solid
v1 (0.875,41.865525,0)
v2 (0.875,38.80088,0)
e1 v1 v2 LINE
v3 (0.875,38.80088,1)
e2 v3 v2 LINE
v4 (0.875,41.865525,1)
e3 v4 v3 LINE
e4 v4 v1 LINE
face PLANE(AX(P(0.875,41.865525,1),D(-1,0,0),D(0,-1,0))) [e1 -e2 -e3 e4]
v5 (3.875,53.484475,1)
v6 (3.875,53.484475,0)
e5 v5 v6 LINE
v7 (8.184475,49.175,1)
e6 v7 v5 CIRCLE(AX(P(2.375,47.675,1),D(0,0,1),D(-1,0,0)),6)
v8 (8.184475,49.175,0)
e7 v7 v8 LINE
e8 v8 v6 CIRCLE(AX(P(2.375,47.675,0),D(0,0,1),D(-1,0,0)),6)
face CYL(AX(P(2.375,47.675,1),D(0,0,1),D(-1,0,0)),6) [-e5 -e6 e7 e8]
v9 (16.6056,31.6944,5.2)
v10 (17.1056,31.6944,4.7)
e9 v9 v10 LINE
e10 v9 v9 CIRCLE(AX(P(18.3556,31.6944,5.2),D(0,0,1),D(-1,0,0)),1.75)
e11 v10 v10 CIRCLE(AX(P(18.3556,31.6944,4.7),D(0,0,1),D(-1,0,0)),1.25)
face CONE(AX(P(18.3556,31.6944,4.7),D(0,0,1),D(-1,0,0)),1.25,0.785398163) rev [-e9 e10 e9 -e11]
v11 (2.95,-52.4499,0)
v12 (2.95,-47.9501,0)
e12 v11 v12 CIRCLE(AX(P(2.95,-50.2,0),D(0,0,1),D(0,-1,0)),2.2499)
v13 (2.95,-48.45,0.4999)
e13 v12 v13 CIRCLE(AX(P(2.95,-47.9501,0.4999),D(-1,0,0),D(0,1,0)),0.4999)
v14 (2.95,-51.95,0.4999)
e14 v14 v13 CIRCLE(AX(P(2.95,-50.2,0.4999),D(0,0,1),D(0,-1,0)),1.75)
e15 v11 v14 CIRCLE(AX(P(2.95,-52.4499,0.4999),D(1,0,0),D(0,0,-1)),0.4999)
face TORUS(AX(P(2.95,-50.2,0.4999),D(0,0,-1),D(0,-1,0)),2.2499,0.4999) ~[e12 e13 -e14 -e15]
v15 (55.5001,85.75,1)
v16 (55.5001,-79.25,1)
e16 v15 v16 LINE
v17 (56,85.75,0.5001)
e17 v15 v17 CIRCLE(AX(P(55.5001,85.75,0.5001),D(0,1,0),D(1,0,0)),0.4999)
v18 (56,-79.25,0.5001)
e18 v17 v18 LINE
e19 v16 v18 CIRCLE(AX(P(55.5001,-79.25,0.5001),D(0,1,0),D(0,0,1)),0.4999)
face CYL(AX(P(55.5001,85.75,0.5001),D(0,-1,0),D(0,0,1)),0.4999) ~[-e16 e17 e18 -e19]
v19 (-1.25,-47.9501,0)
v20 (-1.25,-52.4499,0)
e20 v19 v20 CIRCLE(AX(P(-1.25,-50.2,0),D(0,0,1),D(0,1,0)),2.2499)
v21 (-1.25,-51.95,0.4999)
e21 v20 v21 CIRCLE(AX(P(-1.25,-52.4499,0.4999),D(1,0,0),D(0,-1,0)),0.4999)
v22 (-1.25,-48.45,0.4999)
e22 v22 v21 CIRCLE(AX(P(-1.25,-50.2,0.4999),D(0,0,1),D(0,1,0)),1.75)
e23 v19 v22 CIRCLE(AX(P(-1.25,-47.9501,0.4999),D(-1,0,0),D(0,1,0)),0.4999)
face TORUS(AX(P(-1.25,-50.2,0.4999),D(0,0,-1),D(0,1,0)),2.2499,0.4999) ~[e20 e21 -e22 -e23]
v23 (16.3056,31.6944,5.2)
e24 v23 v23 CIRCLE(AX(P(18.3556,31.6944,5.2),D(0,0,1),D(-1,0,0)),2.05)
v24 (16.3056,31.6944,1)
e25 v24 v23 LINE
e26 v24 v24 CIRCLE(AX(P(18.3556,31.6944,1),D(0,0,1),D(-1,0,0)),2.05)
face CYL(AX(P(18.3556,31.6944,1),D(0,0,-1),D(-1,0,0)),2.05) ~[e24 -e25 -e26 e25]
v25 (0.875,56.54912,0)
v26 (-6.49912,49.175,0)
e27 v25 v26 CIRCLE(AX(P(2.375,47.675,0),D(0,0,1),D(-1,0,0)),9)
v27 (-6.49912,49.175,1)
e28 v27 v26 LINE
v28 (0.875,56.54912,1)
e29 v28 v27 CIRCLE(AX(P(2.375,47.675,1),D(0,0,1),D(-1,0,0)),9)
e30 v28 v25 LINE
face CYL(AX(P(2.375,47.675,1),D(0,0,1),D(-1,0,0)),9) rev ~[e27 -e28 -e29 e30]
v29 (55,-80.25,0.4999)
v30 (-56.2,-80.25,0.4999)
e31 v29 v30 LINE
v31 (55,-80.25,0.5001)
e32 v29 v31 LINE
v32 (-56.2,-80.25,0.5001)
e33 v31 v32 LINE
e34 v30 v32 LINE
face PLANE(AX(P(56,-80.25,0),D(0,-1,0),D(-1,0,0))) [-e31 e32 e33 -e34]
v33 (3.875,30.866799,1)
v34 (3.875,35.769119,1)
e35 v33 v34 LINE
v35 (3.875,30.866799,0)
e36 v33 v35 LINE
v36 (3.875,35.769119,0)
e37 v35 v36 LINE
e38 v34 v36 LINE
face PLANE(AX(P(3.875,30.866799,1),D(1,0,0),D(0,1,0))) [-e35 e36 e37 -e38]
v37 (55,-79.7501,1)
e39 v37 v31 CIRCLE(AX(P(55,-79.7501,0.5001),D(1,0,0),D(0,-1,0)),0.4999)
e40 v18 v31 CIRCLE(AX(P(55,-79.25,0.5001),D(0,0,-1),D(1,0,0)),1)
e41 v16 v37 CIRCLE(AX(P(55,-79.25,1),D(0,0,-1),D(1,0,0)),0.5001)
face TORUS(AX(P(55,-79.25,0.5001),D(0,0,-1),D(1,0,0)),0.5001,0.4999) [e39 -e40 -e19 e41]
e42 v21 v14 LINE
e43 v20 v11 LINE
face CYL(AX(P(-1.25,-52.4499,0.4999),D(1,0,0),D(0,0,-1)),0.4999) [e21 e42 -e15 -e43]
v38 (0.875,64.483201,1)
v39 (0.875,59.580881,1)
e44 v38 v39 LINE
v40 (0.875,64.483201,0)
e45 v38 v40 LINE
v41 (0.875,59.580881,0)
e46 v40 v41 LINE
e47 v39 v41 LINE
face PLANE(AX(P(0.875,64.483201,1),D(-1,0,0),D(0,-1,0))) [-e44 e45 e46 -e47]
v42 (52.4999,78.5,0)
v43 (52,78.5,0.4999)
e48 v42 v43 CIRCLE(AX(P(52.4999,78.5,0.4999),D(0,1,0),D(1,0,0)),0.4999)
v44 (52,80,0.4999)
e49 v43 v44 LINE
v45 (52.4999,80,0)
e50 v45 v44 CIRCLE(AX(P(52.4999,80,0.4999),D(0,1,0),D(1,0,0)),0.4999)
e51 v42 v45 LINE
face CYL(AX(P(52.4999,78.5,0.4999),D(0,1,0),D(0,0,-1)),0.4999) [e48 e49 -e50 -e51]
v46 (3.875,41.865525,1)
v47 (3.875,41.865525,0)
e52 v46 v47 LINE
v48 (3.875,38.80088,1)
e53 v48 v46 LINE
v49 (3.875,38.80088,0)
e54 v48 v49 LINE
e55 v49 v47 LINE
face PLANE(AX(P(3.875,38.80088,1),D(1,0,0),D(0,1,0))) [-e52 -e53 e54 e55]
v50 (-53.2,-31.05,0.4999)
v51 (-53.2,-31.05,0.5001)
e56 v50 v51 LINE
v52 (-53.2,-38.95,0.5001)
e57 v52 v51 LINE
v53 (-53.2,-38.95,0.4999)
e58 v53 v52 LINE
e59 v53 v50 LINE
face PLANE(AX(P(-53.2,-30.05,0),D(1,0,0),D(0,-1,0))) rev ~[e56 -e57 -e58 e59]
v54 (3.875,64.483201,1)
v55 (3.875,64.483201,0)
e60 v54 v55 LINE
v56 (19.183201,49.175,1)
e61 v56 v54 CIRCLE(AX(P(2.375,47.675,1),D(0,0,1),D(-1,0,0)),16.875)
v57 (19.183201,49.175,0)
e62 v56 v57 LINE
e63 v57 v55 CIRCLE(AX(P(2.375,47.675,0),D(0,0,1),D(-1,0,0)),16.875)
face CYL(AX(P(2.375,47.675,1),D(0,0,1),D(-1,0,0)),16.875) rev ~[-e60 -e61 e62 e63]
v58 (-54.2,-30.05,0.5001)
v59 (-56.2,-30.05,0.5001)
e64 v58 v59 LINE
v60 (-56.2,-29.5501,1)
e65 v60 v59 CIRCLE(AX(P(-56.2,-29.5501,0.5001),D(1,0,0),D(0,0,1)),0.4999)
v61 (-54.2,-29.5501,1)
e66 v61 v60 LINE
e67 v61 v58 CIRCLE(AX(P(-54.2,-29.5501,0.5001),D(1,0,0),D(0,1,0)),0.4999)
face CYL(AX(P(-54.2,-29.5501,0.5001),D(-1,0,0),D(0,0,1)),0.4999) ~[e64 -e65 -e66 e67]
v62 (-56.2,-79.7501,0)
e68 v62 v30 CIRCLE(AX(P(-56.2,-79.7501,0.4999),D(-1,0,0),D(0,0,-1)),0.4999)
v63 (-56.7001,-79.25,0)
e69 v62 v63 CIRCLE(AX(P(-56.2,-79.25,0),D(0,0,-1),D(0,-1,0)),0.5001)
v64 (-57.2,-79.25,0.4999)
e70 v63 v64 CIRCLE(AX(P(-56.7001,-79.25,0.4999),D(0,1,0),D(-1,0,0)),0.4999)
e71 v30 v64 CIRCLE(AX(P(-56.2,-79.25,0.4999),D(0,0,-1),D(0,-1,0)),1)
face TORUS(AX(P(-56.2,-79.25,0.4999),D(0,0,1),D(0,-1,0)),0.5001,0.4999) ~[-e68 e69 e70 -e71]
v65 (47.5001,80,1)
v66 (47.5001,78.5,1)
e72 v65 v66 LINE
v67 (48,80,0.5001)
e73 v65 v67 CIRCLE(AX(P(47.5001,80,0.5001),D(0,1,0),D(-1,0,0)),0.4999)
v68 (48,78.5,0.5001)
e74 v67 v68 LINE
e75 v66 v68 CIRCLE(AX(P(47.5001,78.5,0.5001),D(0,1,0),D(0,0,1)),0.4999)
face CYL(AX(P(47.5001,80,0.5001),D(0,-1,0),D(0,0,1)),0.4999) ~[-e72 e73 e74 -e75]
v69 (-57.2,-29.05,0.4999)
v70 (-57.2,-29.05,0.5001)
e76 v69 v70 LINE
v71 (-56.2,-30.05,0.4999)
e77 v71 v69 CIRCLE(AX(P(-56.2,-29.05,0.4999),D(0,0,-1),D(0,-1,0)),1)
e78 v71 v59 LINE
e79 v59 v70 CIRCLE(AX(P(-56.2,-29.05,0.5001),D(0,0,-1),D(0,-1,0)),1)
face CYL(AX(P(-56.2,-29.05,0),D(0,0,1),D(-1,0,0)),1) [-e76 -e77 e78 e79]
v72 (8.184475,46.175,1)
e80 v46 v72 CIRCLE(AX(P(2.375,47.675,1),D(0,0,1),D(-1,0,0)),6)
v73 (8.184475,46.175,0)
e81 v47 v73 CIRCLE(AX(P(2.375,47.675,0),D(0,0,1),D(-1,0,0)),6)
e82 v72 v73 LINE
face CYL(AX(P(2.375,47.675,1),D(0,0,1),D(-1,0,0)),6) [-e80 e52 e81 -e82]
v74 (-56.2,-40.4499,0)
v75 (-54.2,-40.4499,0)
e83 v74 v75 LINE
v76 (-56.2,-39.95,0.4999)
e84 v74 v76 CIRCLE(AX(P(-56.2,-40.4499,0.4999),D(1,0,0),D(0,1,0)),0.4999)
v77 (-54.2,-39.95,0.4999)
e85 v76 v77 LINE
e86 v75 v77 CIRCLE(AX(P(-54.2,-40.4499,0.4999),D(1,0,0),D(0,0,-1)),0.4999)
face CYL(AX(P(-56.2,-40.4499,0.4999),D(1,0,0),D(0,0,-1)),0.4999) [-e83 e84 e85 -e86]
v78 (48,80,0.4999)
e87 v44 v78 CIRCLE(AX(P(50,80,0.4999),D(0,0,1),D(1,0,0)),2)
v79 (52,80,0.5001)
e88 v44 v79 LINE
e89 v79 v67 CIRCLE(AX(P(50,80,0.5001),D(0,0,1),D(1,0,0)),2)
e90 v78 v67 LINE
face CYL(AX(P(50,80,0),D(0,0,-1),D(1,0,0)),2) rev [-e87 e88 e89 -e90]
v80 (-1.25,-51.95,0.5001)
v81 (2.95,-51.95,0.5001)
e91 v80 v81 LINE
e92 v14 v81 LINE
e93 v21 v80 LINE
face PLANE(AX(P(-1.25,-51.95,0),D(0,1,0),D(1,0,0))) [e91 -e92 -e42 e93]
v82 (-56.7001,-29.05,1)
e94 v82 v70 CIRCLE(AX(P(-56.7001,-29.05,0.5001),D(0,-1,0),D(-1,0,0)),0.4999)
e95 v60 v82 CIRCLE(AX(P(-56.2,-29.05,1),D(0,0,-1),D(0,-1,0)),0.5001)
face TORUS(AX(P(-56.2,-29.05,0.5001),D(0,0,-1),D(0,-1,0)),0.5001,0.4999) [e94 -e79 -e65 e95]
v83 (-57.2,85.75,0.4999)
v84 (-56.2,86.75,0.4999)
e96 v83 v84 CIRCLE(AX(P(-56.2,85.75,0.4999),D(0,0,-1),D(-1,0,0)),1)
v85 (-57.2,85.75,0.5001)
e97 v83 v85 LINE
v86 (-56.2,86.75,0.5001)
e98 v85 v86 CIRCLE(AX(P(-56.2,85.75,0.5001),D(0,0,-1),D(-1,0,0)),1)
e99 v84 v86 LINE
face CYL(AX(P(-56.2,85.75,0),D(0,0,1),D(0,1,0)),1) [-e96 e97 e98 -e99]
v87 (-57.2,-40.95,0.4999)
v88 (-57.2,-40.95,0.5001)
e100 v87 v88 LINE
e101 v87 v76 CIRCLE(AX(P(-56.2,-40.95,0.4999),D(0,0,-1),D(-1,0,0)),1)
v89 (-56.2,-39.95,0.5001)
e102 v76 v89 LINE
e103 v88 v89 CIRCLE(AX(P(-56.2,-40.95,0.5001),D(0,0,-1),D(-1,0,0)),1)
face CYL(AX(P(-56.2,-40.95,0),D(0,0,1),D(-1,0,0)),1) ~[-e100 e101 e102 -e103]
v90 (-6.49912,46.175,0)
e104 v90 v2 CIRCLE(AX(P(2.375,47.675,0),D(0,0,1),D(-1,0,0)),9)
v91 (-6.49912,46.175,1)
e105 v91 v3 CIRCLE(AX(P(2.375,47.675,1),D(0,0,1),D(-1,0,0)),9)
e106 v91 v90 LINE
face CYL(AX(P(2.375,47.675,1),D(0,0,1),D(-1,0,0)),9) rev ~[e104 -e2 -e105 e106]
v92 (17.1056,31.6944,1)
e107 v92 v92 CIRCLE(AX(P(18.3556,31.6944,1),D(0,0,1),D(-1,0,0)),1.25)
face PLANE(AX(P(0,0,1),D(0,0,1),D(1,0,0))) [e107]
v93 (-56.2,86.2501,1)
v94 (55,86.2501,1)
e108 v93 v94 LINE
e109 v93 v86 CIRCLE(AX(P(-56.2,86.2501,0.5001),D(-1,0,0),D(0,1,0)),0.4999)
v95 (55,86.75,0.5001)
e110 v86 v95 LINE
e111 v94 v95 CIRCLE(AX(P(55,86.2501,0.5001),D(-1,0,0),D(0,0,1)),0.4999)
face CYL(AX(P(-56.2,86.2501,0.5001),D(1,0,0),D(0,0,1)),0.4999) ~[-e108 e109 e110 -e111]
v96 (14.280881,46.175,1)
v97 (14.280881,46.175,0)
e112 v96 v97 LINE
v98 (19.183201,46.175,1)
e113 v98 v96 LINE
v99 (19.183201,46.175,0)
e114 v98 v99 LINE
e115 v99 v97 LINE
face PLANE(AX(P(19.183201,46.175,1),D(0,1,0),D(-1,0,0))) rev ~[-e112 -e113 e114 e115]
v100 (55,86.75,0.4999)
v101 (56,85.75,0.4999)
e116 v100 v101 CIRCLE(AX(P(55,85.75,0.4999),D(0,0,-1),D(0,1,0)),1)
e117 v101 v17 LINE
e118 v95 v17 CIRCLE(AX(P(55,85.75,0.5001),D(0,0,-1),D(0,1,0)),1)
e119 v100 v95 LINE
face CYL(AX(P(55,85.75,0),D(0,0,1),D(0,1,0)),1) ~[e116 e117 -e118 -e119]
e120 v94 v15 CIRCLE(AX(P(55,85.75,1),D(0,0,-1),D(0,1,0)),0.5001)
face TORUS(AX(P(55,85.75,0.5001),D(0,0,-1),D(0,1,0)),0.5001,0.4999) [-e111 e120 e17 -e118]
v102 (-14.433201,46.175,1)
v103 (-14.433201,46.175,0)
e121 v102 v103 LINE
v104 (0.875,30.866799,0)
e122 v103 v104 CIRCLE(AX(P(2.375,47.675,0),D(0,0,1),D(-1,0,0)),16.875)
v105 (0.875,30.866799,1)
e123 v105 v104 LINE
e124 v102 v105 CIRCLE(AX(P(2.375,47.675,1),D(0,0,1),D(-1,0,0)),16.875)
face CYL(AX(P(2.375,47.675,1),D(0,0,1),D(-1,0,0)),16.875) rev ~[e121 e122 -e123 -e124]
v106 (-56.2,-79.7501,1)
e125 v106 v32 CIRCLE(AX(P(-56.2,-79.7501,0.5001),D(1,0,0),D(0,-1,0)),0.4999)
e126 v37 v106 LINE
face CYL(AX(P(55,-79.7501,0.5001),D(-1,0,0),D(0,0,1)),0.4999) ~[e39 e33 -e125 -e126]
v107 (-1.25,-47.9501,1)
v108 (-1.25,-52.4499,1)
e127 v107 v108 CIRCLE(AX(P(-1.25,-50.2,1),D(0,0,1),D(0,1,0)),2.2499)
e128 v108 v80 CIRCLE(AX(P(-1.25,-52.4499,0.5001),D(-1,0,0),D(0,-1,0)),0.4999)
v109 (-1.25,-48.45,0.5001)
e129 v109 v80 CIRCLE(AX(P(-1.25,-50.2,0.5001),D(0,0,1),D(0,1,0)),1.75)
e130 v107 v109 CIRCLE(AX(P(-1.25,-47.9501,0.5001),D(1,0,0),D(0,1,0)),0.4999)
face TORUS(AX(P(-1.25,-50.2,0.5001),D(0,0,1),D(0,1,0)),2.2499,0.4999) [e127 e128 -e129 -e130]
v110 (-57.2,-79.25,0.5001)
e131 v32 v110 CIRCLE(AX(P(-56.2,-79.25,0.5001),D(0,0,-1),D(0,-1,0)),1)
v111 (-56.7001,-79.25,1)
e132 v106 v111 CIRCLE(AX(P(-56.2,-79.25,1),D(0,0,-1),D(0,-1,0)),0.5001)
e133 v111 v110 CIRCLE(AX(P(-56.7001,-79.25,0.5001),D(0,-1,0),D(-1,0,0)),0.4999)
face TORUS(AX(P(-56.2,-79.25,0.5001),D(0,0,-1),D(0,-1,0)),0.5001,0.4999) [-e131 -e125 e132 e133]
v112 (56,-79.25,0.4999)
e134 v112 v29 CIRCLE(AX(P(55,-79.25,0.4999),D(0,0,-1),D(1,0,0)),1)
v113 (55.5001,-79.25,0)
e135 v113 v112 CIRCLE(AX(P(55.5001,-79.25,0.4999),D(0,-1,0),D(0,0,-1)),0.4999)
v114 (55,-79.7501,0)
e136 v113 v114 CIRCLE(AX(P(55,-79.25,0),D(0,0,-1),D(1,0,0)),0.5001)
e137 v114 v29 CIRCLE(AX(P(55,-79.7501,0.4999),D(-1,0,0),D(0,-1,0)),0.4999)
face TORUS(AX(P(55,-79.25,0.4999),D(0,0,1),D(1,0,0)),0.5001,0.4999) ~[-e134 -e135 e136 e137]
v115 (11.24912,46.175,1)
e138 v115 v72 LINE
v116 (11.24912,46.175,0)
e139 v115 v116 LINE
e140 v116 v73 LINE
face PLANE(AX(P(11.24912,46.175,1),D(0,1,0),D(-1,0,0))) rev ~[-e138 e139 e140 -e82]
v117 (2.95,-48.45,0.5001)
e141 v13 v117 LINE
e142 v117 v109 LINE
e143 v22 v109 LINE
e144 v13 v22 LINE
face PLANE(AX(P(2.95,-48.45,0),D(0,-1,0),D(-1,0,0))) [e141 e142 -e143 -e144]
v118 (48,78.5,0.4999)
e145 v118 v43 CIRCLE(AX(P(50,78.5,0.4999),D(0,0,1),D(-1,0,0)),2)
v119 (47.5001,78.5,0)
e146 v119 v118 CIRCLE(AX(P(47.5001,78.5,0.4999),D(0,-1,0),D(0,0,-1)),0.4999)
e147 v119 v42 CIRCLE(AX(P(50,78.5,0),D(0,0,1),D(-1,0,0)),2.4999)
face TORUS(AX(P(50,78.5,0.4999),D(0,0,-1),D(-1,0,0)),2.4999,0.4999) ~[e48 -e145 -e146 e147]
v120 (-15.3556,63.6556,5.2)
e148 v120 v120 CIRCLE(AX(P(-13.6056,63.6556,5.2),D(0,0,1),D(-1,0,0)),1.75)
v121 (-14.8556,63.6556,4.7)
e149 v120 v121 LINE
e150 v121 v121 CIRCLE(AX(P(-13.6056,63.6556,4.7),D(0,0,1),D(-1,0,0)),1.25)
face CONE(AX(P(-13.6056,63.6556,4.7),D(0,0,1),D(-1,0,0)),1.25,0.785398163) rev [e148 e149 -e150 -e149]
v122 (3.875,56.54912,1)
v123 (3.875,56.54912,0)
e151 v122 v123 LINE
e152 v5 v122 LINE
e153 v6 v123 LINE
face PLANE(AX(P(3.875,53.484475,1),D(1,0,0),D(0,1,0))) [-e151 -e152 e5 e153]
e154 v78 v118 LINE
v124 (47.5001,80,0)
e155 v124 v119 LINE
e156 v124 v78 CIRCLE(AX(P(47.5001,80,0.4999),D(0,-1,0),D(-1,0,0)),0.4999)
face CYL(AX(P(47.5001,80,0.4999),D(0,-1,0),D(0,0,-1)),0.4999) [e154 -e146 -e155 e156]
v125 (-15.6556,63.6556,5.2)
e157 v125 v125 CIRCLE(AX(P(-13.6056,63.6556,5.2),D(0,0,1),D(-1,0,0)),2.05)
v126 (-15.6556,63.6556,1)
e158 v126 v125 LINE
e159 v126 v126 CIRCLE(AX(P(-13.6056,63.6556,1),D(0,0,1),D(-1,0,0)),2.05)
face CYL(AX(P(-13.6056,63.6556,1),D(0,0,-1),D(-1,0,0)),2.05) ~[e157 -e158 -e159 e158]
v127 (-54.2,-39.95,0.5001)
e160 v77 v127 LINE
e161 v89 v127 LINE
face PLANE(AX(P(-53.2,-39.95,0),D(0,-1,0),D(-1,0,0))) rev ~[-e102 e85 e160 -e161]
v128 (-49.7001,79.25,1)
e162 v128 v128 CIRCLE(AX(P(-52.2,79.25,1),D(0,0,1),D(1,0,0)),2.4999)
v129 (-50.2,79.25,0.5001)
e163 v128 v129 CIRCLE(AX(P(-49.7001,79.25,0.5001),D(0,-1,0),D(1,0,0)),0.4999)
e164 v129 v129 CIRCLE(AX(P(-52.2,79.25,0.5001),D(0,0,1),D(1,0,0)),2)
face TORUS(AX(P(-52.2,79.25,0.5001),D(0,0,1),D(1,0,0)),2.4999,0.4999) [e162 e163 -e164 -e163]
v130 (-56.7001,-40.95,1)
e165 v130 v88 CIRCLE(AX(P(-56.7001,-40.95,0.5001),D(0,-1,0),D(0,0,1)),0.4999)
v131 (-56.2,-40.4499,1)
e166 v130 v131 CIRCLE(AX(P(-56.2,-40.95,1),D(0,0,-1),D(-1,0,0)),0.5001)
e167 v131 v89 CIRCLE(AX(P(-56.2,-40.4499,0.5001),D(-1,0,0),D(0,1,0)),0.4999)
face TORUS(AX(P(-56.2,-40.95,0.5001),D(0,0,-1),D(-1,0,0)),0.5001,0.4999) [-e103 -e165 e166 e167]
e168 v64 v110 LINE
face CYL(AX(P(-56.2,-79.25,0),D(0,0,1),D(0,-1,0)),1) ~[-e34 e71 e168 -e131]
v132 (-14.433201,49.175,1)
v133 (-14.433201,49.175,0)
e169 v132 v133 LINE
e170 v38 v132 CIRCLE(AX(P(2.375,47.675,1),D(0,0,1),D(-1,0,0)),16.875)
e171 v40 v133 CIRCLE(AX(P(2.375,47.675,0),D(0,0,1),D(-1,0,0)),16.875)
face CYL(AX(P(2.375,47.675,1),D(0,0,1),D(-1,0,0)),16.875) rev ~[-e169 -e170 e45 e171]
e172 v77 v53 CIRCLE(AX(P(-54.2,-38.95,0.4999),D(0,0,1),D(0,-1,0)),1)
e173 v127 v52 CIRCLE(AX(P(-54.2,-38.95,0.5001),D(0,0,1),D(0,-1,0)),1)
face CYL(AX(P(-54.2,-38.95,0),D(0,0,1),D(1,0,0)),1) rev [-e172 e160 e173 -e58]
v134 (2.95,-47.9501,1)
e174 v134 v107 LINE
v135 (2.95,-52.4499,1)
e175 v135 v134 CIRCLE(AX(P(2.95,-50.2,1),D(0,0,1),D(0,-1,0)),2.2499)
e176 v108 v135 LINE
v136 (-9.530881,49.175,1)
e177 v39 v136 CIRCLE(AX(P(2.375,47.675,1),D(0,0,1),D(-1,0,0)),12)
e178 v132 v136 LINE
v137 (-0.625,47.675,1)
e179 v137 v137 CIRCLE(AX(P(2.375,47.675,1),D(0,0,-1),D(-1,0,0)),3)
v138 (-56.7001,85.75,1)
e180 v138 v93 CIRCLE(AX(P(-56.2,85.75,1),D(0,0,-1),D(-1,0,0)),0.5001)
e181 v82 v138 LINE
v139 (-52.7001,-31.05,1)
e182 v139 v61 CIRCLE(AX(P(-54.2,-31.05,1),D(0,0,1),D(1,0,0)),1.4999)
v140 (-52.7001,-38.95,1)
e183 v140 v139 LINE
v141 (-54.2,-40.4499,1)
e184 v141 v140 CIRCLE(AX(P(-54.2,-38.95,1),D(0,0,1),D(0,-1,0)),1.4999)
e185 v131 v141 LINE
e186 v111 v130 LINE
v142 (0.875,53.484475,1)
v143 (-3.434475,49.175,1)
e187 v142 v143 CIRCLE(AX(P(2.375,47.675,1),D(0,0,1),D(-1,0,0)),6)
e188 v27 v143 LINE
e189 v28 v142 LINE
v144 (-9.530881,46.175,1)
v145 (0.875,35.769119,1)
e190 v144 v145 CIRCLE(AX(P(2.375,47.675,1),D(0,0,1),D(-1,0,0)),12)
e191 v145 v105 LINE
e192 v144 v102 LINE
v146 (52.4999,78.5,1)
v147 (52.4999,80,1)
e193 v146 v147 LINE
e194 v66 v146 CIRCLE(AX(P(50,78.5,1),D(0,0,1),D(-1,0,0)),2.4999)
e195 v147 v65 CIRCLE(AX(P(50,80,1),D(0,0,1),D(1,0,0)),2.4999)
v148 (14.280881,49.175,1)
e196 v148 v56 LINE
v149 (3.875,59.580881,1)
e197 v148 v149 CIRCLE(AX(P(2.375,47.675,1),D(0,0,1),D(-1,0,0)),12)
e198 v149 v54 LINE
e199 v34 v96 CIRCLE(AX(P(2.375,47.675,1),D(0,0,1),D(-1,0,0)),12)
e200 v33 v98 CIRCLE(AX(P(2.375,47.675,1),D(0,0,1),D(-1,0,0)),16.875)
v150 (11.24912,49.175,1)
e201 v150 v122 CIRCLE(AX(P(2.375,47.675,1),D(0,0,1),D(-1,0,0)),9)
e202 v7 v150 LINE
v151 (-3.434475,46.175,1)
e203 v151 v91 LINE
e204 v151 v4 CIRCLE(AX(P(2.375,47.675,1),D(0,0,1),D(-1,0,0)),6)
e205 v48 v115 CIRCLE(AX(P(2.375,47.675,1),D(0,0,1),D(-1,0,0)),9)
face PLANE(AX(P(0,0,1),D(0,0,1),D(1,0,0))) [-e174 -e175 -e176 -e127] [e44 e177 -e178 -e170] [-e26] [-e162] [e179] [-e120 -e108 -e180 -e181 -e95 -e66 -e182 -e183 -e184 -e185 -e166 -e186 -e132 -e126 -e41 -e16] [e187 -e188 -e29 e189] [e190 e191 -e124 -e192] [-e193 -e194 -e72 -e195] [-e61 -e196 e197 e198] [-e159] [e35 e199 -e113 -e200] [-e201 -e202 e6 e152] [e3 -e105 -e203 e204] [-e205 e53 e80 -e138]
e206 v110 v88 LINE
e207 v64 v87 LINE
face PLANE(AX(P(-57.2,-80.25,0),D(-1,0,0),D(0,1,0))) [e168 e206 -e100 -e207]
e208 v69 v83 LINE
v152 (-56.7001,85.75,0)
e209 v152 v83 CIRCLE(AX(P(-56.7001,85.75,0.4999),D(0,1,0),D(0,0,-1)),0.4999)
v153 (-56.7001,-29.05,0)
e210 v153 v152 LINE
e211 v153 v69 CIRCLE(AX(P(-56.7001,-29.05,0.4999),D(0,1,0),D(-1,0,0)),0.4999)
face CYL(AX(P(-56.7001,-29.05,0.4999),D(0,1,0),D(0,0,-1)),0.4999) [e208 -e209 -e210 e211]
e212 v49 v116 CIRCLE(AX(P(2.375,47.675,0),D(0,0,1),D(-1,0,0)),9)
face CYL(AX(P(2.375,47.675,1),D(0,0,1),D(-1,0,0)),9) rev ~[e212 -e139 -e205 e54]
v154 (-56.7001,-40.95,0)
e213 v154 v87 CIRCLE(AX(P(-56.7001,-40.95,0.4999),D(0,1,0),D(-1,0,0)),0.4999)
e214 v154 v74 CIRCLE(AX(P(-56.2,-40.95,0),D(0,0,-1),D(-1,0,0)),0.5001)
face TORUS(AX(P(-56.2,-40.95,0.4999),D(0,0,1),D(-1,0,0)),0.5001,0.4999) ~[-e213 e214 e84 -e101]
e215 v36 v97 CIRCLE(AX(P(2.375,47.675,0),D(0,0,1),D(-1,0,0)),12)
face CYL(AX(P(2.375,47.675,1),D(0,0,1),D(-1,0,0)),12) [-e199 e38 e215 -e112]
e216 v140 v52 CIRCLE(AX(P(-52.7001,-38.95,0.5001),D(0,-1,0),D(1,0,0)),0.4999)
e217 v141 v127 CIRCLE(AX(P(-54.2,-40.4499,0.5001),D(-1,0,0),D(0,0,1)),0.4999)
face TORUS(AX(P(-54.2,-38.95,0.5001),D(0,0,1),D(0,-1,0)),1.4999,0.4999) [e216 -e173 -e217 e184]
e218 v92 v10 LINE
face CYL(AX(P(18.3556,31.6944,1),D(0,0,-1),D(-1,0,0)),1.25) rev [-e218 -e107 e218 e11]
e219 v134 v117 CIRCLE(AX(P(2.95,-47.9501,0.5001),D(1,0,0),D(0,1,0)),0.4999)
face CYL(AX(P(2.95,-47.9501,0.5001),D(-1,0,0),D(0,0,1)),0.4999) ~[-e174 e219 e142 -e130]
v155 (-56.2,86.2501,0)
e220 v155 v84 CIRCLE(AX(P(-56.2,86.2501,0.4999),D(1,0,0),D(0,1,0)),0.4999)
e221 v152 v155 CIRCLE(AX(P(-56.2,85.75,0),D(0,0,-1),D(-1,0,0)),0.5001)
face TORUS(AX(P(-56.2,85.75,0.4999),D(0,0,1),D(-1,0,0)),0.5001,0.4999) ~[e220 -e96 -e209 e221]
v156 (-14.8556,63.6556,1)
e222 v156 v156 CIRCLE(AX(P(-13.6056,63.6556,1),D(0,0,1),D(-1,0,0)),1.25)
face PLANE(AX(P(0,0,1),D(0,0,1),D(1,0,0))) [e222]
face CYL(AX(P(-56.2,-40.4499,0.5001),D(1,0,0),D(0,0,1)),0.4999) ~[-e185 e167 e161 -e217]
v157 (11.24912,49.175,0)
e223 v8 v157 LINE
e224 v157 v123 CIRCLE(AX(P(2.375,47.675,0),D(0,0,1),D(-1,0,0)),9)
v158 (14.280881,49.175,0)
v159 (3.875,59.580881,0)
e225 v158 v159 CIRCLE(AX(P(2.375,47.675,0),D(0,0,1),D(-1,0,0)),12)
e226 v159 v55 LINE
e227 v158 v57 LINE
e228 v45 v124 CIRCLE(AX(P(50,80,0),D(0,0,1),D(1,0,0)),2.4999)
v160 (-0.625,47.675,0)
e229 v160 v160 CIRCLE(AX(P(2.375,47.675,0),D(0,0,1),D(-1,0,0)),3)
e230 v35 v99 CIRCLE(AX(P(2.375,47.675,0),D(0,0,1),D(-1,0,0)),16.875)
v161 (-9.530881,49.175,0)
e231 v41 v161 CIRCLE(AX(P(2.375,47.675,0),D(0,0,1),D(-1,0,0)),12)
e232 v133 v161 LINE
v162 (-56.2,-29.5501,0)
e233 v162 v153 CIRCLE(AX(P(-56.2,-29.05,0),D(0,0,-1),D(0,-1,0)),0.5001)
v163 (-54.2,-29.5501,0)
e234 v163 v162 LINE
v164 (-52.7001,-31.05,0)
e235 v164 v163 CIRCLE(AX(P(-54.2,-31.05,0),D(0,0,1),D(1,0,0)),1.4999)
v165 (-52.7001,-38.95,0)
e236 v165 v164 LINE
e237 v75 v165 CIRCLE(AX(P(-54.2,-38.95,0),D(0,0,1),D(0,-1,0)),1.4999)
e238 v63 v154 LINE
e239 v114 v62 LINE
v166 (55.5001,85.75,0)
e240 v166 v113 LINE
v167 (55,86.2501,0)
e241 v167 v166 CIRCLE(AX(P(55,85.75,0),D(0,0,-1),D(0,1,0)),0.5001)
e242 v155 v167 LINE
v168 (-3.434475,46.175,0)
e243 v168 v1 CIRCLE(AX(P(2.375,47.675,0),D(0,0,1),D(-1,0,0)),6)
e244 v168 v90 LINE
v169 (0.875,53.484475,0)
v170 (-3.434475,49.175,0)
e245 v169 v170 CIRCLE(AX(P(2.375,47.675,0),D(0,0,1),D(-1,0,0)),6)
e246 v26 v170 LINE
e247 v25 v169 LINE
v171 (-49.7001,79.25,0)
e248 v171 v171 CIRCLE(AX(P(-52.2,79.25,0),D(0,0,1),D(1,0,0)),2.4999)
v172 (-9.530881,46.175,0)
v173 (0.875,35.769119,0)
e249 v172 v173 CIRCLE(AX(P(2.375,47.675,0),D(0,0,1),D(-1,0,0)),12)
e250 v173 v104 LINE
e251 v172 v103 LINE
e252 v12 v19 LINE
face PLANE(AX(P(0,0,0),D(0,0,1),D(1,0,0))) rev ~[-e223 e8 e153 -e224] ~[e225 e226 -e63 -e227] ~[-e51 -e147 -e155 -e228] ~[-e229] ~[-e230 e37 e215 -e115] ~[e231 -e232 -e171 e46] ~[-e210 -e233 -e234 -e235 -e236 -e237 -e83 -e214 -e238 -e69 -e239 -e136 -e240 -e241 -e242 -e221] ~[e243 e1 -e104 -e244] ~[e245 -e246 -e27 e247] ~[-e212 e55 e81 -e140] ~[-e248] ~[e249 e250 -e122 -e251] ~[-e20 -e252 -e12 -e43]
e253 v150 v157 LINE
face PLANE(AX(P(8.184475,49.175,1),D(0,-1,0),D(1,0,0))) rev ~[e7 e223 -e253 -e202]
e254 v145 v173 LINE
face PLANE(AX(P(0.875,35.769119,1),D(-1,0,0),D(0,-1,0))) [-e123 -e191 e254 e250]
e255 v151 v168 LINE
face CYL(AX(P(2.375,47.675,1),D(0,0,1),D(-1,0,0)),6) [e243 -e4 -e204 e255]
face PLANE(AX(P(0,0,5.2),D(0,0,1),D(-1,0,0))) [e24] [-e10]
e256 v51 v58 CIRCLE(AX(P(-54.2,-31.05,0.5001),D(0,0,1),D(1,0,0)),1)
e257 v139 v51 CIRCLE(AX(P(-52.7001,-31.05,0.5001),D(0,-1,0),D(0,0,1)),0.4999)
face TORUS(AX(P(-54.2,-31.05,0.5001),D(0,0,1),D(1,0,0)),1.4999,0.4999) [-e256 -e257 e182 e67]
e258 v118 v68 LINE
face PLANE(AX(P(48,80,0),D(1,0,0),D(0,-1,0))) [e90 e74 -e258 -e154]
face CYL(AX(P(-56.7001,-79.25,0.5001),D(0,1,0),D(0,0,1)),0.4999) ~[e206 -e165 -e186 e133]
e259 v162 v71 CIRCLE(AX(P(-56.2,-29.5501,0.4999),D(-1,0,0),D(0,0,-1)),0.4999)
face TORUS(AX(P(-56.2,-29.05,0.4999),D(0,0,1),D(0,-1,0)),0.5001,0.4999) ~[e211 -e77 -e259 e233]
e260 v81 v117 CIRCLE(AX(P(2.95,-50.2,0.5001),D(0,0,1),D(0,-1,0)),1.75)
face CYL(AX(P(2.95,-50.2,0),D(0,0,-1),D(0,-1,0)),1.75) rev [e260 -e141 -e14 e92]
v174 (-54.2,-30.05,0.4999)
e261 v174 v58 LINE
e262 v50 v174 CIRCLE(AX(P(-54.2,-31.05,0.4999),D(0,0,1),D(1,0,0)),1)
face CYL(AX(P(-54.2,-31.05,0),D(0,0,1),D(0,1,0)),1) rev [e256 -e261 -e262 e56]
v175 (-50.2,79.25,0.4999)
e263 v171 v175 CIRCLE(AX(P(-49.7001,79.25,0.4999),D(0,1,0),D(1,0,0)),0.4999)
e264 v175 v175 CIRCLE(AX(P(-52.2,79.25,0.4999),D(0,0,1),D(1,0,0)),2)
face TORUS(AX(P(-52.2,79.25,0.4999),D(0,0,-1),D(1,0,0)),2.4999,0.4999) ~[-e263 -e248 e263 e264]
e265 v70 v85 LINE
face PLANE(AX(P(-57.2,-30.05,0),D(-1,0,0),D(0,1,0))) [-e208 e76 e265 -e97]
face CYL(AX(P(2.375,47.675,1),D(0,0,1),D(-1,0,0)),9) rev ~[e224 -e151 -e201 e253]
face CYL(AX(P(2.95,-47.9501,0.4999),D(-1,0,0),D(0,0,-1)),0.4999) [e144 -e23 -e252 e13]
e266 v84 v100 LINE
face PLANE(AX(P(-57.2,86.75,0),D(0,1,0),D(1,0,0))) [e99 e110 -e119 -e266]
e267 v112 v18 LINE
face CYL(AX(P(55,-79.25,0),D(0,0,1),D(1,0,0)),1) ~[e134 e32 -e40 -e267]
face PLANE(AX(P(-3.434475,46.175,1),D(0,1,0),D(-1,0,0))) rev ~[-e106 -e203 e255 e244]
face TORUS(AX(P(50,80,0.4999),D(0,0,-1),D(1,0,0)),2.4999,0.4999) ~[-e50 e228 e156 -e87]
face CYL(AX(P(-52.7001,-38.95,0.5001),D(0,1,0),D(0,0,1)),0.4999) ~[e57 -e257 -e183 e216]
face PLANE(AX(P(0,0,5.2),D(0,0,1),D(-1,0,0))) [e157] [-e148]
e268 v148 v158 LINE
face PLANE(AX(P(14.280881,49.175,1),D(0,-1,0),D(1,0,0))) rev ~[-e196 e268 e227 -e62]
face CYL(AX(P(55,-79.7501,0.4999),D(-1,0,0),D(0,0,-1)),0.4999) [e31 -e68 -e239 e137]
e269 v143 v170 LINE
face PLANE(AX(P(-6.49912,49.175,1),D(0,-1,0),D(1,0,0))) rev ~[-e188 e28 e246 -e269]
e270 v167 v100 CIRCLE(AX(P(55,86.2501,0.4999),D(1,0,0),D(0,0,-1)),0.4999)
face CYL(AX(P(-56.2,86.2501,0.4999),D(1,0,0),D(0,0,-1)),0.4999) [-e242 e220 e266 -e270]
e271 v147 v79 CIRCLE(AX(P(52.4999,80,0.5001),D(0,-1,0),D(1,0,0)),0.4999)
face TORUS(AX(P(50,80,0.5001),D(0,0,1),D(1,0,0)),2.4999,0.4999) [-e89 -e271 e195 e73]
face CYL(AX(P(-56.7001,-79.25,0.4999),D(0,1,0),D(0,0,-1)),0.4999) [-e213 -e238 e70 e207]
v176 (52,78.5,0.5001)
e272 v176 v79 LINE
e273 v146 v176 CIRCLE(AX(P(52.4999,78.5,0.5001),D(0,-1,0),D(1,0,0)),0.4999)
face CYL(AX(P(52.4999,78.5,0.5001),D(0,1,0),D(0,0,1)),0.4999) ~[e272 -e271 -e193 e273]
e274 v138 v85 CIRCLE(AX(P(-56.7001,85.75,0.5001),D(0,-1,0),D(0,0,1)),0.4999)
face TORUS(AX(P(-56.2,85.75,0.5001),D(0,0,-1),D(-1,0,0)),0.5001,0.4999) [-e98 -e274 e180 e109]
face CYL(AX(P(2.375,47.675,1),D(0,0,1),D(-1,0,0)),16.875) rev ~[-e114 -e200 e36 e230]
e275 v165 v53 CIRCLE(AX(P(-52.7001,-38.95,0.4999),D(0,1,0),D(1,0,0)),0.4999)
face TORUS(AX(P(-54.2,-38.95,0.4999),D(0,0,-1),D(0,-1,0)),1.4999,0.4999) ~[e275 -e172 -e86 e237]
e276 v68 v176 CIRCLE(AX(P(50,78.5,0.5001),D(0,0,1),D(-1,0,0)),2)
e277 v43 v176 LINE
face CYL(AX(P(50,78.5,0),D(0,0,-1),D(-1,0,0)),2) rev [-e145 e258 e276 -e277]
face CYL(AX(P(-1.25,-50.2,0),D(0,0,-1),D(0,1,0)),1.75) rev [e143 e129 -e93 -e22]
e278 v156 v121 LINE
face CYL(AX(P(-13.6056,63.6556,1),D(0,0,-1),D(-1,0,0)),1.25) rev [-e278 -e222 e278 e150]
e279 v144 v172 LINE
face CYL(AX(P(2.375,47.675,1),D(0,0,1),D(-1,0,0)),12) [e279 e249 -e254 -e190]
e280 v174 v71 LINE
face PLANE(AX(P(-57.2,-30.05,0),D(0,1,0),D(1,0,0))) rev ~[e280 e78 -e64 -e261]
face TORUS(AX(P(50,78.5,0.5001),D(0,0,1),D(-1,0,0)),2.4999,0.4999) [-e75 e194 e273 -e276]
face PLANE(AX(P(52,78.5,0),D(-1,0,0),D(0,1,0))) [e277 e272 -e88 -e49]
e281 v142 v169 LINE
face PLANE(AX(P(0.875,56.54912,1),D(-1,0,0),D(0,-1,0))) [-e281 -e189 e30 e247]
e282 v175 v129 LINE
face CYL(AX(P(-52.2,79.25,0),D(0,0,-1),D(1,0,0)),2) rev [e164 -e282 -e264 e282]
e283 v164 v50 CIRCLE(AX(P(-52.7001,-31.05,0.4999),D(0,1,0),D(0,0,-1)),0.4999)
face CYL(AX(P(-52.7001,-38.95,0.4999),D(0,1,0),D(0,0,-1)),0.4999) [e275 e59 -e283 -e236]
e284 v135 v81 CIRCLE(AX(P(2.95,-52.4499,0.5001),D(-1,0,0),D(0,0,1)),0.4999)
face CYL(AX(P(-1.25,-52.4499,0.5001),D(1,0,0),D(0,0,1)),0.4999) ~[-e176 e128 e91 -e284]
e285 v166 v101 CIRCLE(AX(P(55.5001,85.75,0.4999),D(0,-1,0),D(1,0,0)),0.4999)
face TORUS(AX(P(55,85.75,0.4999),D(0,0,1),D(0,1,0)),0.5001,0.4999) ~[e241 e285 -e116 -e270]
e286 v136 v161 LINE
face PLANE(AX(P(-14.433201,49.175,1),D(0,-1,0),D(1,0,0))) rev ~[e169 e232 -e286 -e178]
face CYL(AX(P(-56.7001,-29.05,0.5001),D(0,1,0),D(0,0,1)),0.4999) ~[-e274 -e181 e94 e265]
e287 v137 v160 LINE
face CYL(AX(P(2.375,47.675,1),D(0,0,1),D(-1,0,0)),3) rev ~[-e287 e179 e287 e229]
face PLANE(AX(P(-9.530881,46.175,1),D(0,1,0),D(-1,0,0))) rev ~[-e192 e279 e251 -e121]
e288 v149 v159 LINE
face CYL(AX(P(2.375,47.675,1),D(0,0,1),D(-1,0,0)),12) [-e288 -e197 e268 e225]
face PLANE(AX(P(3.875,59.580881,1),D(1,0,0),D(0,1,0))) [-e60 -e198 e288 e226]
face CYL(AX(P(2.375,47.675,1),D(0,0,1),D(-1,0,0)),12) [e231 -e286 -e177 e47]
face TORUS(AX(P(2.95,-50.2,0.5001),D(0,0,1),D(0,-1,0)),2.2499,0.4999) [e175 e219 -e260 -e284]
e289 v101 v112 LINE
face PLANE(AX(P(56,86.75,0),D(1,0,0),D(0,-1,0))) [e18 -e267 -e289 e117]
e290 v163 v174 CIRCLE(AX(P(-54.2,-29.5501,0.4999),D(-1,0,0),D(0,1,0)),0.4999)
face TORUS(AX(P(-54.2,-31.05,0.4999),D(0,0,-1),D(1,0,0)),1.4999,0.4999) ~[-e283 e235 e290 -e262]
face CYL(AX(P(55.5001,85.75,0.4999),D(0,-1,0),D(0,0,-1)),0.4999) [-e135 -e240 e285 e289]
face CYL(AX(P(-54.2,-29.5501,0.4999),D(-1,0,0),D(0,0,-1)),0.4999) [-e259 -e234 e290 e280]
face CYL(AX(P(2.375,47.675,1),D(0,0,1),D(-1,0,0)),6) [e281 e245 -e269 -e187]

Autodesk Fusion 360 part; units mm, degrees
sketch "Sketch1" plane through (0, 0, 0) normal (0, 0, 1) x (1, 0, 0)
  line L0 (-57.2, 86.75) -> (56, 86.75)
  line L1 (56, 86.75) -> (56, -80.25)
  line L2 (56, -80.25) -> (-57.2, -80.25)
  line L3 (-57.2, -80.25) -> (-57.2, 86.75)
  circle A0 centre (-52.2, 79.25) radius 2
  line L4 (48, 80) -> (48, 78.5)
  arc A1 (48, 78.5) -> (52, 78.5) centre (50, 78.5) ccw
  line L5 (52, 78.5) -> (52, 80)
  arc A2 (52, 80) -> (48, 80) centre (50, 80) ccw
  line L6 (50, 80) -> (50, 78.5) construction
  line L7 (-1.25, -51.95) -> (2.95, -51.95)
  arc A3 (2.95, -51.95) -> (2.95, -48.45) centre (2.95, -50.2) ccw
  line L8 (2.95, -48.45) -> (-1.25, -48.45)
  arc A4 (-1.25, -48.45) -> (-1.25, -51.95) centre (-1.25, -50.2) ccw
  line L9 (-3, -50.2) -> (4.7, -50.2) construction
  line L10 (-57.2, -30.05) -> (-53.2, -30.05)
  line L11 (-53.2, -30.05) -> (-53.2, -39.95)
  line L12 (-53.2, -39.95) -> (-57.2, -39.95)
  line L13 (-57.2, -39.95) -> (-57.2, -30.05)
  dimension "d1" = 113.2
  dimension "d2" = 167
  dimension "d3" = 4
  dimension "d4" = 5
  dimension "d5" = 7.5
  dimension "d6" = 4
  dimension "d7" = 1.5
  dimension "d8" = 6
  dimension "d9" = 6.75
  dimension "d10" = 3.5
  dimension "d11" = 7.7
  dimension "d12" = 28.3
  dimension "d13" = 51.3
  dimension "d14" = 9.9
  dimension "d15" = 4
  dimension "d16" = 40.3
extrude "Extrude1" add sketch "Sketch1" along normal blind 1 contours L0 L1 L2 L3 L10 L11 L12
sketch "Sketch4" plane through (0, 0, 1) normal (0, 0, 1) x (-1, 0, 0)
  arc A0 (-52, -80) -> (-48, -80) centre (-50, -80) ccw
  line L0 (-52, -80) -> (-52, -78.5)
  arc A1 (-48, -78.5) -> (-52, -78.5) centre (-50, -78.5) ccw
  line L1 (-48, -78.5) -> (-48, -80)
  arc A2 (1.25, 48.45) -> (1.25, 51.95) centre (1.25, 50.2) ccw
  line L2 (1.25, 48.45) -> (-2.95, 48.45)
  arc A3 (-2.95, 51.95) -> (-2.95, 48.45) centre (-2.95, 50.2) ccw
  line L3 (-2.95, 51.95) -> (1.25, 51.95)
  circle A4 centre (52.2, -79.25) radius 2
  line L4 (57.2, 30.05) -> (53.2, 30.05)
  line L5 (53.2, 30.05) -> (53.2, 39.95)
  line L6 (53.2, 39.95) -> (57.2, 39.95)
  line L7 (57.2, 39.95) -> (57.2, 80.25)
  line L8 (57.2, 80.25) -> (-56, 80.25)
  line L9 (-56, 80.25) -> (-56, -86.75)
  line L10 (-56, -86.75) -> (57.2, -86.75)
  line L11 (57.2, -86.75) -> (57.2, 30.05)
  circle A5 centre (-2.375, -47.675) radius 16.875
  circle A6 centre (-2.375, -47.675) radius 12
  circle A7 centre (-2.375, -47.675) radius 9
  circle A8 centre (-2.375, -47.675) radius 6
  circle A9 centre (-2.375, -47.675) radius 3
  line L12 (-3.875, -66.4009) -> (-0.875, -66.4009)
  line L13 (-0.875, -66.4009) -> (-0.875, -28.9491)
  line L14 (-0.875, -28.9491) -> (-3.875, -28.9491)
  line L15 (-3.875, -28.9491) -> (-3.875, -66.4009)
  line L16 (-3.875, -66.4009) -> (-0.875, -28.9491) construction
  line L17 (-0.875, -66.4009) -> (-3.875, -28.9491) construction
  line L18 (-24.5082, -46.175) -> (19.7582, -46.175)
  line L19 (19.7582, -46.175) -> (19.7582, -49.175)
  line L20 (19.7582, -49.175) -> (-24.5082, -49.175)
  line L21 (-24.5082, -49.175) -> (-24.5082, -46.175)
  line L22 (-24.5082, -46.175) -> (19.7582, -49.175) construction
  line L23 (19.7582, -46.175) -> (-24.5082, -49.175) construction
  point P0 (-2.375, -47.675)
  point P1 (-2.375, -47.675)
  dimension "d42" = 33.75
  dimension "d43" = 24
  dimension "d44" = 18
  dimension "d45" = 12
  dimension "d46" = 6
  dimension "d47" = 3
  dimension "d48" = 3
  dimension "d59" = 39.075
  dimension "d60" = 53.625
extrude "Extrude4" cut sketch "Sketch4" against normal through all contours A5 A6 L13 L18 | A5 A6 L13 L20 | A5 A6 L15 L18 | A7 A8 L13 L18 | A5 A6 L15 L20 | A7 A8 L13 L20 | A7 A8 L15 L18 | A9 L13 L18 | A9 L13 L18 L20 | A7 A8 L15 L20 | A9 L13 L20 | A9 L13 L15 L18 | L13 L15 L18 L20 | A9 L13 L15 L20 | A9 L15 L18 | A9 L15 L18 L20 | A9 L15 L20
sketch "Sketch5" plane through (0, 0, 1) normal (0, 0, 1) x (-1, 0, 0)
  arc A0 (-0.875, -59.5809) -> (9.5309, -49.175) centre (-2.375, -47.675) ccw
  line L0 (9.5309, -49.175) -> (14.4332, -49.175)
  arc A1 (-0.875, -64.4832) -> (14.4332, -49.175) centre (-2.375, -47.675) ccw
  line L1 (-0.875, -64.4832) -> (-0.875, -59.5809)
  arc A2 (-14.2809, -49.175) -> (-3.875, -59.5809) centre (-2.375, -47.675) ccw
  line L2 (-3.875, -59.5809) -> (-3.875, -64.4832)
  arc A3 (-19.1832, -49.175) -> (-3.875, -64.4832) centre (-2.375, -47.675) ccw
  line L3 (-19.1832, -49.175) -> (-14.2809, -49.175)
  arc A4 (-3.875, -35.7691) -> (-14.2809, -46.175) centre (-2.375, -47.675) ccw
  line L4 (-14.2809, -46.175) -> (-19.1832, -46.175)
  arc A5 (-3.875, -30.8668) -> (-19.1832, -46.175) centre (-2.375, -47.675) ccw
  line L5 (-3.875, -30.8668) -> (-3.875, -35.7691)
  arc A6 (-0.875, -53.4845) -> (3.4345, -49.175) centre (-2.375, -47.675) ccw
  line L6 (3.4345, -49.175) -> (6.4991, -49.175)
  arc A7 (-0.875, -56.5491) -> (6.4991, -49.175) centre (-2.375, -47.675) ccw
  line L7 (-0.875, -56.5491) -> (-0.875, -53.4845)
  arc A8 (-3.875, -41.8655) -> (-8.1845, -46.175) centre (-2.375, -47.675) ccw
  line L8 (-8.1845, -46.175) -> (-11.2491, -46.175)
  arc A9 (-3.875, -38.8009) -> (-11.2491, -46.175) centre (-2.375, -47.675) ccw
  line L9 (-3.875, -38.8009) -> (-3.875, -41.8655)
  arc A10 (3.4345, -46.175) -> (-0.875, -41.8655) centre (-2.375, -47.675) ccw
  line L10 (-0.875, -41.8655) -> (-0.875, -38.8009)
  arc A11 (6.4991, -46.175) -> (-0.875, -38.8009) centre (-2.375, -47.675) ccw
  line L11 (6.4991, -46.175) -> (3.4345, -46.175)
  circle A12 centre (-2.375, -47.675) radius 3
  arc A13 (9.5309, -46.175) -> (-0.875, -35.7691) centre (-2.375, -47.675) ccw
  line L12 (-0.875, -35.7691) -> (-0.875, -30.8668)
  arc A14 (14.4332, -46.175) -> (-0.875, -30.8668) centre (-2.375, -47.675) ccw
  line L13 (14.4332, -46.175) -> (9.5309, -46.175)
  arc A15 (-8.1845, -49.175) -> (-3.875, -53.4845) centre (-2.375, -47.675) ccw
  line L14 (-3.875, -53.4845) -> (-3.875, -56.5491)
  arc A16 (-11.2491, -49.175) -> (-3.875, -56.5491) centre (-2.375, -47.675) ccw
  line L15 (-11.2491, -49.175) -> (-8.1845, -49.175)
  arc A17 (-52, -80) -> (-48, -80) centre (-50, -80) ccw
  line L16 (-52, -80) -> (-52, -78.5)
  arc A18 (-48, -78.5) -> (-52, -78.5) centre (-50, -78.5) ccw
  line L17 (-48, -78.5) -> (-48, -80)
  arc A19 (1.25, 48.45) -> (1.25, 51.95) centre (1.25, 50.2) ccw
  line L18 (1.25, 48.45) -> (-2.95, 48.45)
  arc A20 (-2.95, 51.95) -> (-2.95, 48.45) centre (-2.95, 50.2) ccw
  line L19 (-2.95, 51.95) -> (1.25, 51.95)
  circle A21 centre (52.2, -79.25) radius 2
  line L20 (57.2, 30.05) -> (53.2, 30.05)
  line L21 (53.2, 30.05) -> (53.2, 39.95)
  line L22 (53.2, 39.95) -> (57.2, 39.95)
  line L23 (57.2, 39.95) -> (57.2, 80.25)
  line L24 (57.2, 80.25) -> (-56, 80.25)
  line L25 (-56, 80.25) -> (-56, -86.75)
  line L26 (-56, -86.75) -> (57.2, -86.75)
  line L27 (57.2, -86.75) -> (57.2, 30.05)
  circle A22 centre (13.6056, -63.6556) radius 2.05
  circle A23 centre (-18.3556, -31.6944) radius 2.05
  line L28 (13.6056, -63.6556) -> (-18.3556, -31.6944) construction
  circle A24 centre (13.6056, -63.6556) radius 1.25
  circle A25 centre (-18.3556, -31.6944) radius 1.25
  dimension "d51" = 4.1
  dimension "d52" = 4.1
  dimension "d53" = 45.2
  dimension "d54" = 45
  dimension "d55" = 2.5
  dimension "d56" = 2.5
extrude "Extrude5" add sketch "Sketch5" along normal blind 4.2 contours A22 | A23
fillet "Fillet4" radius 1 8 edges at (56, -80.25, 0.5) (-57.2, -80.25, 0.5) (-57.2, -39.95, 0.5) (-53.2, -39.95, 0.5) (-57.2, -30.05, 0.5) (-53.2, -30.05, 0.5) (-57.2, 86.75, 0.5) (56, 86.75, 0.5)
fillet "Fillet5" radius 0.5 50 edges at (-56.9071, -79.9571, 1) (-0.6, -80.25, 1) (55.7071, -79.9571, 1) (56, 3.25, 1) (55.7071, 86.4571, 1) (-0.6, 86.75, 1) (-56.9071, 86.4571, 1) (-57.2, 28.35, 1) (-56.9071, -29.7571, 1) (-55.2, -30.05, 1) (-53.4929, -30.3429, 1) (-53.2, -35, 1) (-53.4929, -39.6571, 1) (-55.2, -39.95, 1) (-56.9071, -40.2429, 1) (-57.2, -60.1, 1) (-56.9071, -40.2429, 0) (-55.2, -39.95, 0) (-53.4929, -39.6571, 0) (-53.2, -35, 0) (-53.4929, -30.3429, 0) (-55.2, -30.05, 0) (-56.9071, -29.7571, 0) (-57.2, 28.35, 0) (-56.9071, 86.4571, 0) (-0.6, 86.75, 0) (55.7071, 86.4571, 0) (56, 3.25, 0) (55.7071, -79.9571, 0) (-0.6, -80.25, 0) (-56.9071, -79.9571, 0) (-57.2, -60.1, 0) (-3, -50.2, 1) (0.85, -48.45, 1) (4.7, -50.2, 1) (0.85, -51.95, 1) (-3, -50.2, 0) (0.85, -48.45, 0) (4.7, -50.2, 0) (0.85, -51.95, 0) (-54.0647, 79.9732, 1) (-54.0647, 79.9732, 0) (50, 82, 1) (52, 79.25, 1) (50, 76.5, 1) (48, 79.25, 1) (50, 82, 0) (52, 79.25, 0) (50, 76.5, 0) (48, 79.25, 0)
chamfer "Chamfer1" distance 0.5 angle 45 2 edges at (-12.4402, 63.2036, 5.2) (19.521, 31.2424, 5.2)
equation "d59 = 22.2 mm + ( 33.75 / 2 ) * 1 mm"
equation "d60 = 36.75 mm + ( 33.75 / 2 ) * 1 mm"
